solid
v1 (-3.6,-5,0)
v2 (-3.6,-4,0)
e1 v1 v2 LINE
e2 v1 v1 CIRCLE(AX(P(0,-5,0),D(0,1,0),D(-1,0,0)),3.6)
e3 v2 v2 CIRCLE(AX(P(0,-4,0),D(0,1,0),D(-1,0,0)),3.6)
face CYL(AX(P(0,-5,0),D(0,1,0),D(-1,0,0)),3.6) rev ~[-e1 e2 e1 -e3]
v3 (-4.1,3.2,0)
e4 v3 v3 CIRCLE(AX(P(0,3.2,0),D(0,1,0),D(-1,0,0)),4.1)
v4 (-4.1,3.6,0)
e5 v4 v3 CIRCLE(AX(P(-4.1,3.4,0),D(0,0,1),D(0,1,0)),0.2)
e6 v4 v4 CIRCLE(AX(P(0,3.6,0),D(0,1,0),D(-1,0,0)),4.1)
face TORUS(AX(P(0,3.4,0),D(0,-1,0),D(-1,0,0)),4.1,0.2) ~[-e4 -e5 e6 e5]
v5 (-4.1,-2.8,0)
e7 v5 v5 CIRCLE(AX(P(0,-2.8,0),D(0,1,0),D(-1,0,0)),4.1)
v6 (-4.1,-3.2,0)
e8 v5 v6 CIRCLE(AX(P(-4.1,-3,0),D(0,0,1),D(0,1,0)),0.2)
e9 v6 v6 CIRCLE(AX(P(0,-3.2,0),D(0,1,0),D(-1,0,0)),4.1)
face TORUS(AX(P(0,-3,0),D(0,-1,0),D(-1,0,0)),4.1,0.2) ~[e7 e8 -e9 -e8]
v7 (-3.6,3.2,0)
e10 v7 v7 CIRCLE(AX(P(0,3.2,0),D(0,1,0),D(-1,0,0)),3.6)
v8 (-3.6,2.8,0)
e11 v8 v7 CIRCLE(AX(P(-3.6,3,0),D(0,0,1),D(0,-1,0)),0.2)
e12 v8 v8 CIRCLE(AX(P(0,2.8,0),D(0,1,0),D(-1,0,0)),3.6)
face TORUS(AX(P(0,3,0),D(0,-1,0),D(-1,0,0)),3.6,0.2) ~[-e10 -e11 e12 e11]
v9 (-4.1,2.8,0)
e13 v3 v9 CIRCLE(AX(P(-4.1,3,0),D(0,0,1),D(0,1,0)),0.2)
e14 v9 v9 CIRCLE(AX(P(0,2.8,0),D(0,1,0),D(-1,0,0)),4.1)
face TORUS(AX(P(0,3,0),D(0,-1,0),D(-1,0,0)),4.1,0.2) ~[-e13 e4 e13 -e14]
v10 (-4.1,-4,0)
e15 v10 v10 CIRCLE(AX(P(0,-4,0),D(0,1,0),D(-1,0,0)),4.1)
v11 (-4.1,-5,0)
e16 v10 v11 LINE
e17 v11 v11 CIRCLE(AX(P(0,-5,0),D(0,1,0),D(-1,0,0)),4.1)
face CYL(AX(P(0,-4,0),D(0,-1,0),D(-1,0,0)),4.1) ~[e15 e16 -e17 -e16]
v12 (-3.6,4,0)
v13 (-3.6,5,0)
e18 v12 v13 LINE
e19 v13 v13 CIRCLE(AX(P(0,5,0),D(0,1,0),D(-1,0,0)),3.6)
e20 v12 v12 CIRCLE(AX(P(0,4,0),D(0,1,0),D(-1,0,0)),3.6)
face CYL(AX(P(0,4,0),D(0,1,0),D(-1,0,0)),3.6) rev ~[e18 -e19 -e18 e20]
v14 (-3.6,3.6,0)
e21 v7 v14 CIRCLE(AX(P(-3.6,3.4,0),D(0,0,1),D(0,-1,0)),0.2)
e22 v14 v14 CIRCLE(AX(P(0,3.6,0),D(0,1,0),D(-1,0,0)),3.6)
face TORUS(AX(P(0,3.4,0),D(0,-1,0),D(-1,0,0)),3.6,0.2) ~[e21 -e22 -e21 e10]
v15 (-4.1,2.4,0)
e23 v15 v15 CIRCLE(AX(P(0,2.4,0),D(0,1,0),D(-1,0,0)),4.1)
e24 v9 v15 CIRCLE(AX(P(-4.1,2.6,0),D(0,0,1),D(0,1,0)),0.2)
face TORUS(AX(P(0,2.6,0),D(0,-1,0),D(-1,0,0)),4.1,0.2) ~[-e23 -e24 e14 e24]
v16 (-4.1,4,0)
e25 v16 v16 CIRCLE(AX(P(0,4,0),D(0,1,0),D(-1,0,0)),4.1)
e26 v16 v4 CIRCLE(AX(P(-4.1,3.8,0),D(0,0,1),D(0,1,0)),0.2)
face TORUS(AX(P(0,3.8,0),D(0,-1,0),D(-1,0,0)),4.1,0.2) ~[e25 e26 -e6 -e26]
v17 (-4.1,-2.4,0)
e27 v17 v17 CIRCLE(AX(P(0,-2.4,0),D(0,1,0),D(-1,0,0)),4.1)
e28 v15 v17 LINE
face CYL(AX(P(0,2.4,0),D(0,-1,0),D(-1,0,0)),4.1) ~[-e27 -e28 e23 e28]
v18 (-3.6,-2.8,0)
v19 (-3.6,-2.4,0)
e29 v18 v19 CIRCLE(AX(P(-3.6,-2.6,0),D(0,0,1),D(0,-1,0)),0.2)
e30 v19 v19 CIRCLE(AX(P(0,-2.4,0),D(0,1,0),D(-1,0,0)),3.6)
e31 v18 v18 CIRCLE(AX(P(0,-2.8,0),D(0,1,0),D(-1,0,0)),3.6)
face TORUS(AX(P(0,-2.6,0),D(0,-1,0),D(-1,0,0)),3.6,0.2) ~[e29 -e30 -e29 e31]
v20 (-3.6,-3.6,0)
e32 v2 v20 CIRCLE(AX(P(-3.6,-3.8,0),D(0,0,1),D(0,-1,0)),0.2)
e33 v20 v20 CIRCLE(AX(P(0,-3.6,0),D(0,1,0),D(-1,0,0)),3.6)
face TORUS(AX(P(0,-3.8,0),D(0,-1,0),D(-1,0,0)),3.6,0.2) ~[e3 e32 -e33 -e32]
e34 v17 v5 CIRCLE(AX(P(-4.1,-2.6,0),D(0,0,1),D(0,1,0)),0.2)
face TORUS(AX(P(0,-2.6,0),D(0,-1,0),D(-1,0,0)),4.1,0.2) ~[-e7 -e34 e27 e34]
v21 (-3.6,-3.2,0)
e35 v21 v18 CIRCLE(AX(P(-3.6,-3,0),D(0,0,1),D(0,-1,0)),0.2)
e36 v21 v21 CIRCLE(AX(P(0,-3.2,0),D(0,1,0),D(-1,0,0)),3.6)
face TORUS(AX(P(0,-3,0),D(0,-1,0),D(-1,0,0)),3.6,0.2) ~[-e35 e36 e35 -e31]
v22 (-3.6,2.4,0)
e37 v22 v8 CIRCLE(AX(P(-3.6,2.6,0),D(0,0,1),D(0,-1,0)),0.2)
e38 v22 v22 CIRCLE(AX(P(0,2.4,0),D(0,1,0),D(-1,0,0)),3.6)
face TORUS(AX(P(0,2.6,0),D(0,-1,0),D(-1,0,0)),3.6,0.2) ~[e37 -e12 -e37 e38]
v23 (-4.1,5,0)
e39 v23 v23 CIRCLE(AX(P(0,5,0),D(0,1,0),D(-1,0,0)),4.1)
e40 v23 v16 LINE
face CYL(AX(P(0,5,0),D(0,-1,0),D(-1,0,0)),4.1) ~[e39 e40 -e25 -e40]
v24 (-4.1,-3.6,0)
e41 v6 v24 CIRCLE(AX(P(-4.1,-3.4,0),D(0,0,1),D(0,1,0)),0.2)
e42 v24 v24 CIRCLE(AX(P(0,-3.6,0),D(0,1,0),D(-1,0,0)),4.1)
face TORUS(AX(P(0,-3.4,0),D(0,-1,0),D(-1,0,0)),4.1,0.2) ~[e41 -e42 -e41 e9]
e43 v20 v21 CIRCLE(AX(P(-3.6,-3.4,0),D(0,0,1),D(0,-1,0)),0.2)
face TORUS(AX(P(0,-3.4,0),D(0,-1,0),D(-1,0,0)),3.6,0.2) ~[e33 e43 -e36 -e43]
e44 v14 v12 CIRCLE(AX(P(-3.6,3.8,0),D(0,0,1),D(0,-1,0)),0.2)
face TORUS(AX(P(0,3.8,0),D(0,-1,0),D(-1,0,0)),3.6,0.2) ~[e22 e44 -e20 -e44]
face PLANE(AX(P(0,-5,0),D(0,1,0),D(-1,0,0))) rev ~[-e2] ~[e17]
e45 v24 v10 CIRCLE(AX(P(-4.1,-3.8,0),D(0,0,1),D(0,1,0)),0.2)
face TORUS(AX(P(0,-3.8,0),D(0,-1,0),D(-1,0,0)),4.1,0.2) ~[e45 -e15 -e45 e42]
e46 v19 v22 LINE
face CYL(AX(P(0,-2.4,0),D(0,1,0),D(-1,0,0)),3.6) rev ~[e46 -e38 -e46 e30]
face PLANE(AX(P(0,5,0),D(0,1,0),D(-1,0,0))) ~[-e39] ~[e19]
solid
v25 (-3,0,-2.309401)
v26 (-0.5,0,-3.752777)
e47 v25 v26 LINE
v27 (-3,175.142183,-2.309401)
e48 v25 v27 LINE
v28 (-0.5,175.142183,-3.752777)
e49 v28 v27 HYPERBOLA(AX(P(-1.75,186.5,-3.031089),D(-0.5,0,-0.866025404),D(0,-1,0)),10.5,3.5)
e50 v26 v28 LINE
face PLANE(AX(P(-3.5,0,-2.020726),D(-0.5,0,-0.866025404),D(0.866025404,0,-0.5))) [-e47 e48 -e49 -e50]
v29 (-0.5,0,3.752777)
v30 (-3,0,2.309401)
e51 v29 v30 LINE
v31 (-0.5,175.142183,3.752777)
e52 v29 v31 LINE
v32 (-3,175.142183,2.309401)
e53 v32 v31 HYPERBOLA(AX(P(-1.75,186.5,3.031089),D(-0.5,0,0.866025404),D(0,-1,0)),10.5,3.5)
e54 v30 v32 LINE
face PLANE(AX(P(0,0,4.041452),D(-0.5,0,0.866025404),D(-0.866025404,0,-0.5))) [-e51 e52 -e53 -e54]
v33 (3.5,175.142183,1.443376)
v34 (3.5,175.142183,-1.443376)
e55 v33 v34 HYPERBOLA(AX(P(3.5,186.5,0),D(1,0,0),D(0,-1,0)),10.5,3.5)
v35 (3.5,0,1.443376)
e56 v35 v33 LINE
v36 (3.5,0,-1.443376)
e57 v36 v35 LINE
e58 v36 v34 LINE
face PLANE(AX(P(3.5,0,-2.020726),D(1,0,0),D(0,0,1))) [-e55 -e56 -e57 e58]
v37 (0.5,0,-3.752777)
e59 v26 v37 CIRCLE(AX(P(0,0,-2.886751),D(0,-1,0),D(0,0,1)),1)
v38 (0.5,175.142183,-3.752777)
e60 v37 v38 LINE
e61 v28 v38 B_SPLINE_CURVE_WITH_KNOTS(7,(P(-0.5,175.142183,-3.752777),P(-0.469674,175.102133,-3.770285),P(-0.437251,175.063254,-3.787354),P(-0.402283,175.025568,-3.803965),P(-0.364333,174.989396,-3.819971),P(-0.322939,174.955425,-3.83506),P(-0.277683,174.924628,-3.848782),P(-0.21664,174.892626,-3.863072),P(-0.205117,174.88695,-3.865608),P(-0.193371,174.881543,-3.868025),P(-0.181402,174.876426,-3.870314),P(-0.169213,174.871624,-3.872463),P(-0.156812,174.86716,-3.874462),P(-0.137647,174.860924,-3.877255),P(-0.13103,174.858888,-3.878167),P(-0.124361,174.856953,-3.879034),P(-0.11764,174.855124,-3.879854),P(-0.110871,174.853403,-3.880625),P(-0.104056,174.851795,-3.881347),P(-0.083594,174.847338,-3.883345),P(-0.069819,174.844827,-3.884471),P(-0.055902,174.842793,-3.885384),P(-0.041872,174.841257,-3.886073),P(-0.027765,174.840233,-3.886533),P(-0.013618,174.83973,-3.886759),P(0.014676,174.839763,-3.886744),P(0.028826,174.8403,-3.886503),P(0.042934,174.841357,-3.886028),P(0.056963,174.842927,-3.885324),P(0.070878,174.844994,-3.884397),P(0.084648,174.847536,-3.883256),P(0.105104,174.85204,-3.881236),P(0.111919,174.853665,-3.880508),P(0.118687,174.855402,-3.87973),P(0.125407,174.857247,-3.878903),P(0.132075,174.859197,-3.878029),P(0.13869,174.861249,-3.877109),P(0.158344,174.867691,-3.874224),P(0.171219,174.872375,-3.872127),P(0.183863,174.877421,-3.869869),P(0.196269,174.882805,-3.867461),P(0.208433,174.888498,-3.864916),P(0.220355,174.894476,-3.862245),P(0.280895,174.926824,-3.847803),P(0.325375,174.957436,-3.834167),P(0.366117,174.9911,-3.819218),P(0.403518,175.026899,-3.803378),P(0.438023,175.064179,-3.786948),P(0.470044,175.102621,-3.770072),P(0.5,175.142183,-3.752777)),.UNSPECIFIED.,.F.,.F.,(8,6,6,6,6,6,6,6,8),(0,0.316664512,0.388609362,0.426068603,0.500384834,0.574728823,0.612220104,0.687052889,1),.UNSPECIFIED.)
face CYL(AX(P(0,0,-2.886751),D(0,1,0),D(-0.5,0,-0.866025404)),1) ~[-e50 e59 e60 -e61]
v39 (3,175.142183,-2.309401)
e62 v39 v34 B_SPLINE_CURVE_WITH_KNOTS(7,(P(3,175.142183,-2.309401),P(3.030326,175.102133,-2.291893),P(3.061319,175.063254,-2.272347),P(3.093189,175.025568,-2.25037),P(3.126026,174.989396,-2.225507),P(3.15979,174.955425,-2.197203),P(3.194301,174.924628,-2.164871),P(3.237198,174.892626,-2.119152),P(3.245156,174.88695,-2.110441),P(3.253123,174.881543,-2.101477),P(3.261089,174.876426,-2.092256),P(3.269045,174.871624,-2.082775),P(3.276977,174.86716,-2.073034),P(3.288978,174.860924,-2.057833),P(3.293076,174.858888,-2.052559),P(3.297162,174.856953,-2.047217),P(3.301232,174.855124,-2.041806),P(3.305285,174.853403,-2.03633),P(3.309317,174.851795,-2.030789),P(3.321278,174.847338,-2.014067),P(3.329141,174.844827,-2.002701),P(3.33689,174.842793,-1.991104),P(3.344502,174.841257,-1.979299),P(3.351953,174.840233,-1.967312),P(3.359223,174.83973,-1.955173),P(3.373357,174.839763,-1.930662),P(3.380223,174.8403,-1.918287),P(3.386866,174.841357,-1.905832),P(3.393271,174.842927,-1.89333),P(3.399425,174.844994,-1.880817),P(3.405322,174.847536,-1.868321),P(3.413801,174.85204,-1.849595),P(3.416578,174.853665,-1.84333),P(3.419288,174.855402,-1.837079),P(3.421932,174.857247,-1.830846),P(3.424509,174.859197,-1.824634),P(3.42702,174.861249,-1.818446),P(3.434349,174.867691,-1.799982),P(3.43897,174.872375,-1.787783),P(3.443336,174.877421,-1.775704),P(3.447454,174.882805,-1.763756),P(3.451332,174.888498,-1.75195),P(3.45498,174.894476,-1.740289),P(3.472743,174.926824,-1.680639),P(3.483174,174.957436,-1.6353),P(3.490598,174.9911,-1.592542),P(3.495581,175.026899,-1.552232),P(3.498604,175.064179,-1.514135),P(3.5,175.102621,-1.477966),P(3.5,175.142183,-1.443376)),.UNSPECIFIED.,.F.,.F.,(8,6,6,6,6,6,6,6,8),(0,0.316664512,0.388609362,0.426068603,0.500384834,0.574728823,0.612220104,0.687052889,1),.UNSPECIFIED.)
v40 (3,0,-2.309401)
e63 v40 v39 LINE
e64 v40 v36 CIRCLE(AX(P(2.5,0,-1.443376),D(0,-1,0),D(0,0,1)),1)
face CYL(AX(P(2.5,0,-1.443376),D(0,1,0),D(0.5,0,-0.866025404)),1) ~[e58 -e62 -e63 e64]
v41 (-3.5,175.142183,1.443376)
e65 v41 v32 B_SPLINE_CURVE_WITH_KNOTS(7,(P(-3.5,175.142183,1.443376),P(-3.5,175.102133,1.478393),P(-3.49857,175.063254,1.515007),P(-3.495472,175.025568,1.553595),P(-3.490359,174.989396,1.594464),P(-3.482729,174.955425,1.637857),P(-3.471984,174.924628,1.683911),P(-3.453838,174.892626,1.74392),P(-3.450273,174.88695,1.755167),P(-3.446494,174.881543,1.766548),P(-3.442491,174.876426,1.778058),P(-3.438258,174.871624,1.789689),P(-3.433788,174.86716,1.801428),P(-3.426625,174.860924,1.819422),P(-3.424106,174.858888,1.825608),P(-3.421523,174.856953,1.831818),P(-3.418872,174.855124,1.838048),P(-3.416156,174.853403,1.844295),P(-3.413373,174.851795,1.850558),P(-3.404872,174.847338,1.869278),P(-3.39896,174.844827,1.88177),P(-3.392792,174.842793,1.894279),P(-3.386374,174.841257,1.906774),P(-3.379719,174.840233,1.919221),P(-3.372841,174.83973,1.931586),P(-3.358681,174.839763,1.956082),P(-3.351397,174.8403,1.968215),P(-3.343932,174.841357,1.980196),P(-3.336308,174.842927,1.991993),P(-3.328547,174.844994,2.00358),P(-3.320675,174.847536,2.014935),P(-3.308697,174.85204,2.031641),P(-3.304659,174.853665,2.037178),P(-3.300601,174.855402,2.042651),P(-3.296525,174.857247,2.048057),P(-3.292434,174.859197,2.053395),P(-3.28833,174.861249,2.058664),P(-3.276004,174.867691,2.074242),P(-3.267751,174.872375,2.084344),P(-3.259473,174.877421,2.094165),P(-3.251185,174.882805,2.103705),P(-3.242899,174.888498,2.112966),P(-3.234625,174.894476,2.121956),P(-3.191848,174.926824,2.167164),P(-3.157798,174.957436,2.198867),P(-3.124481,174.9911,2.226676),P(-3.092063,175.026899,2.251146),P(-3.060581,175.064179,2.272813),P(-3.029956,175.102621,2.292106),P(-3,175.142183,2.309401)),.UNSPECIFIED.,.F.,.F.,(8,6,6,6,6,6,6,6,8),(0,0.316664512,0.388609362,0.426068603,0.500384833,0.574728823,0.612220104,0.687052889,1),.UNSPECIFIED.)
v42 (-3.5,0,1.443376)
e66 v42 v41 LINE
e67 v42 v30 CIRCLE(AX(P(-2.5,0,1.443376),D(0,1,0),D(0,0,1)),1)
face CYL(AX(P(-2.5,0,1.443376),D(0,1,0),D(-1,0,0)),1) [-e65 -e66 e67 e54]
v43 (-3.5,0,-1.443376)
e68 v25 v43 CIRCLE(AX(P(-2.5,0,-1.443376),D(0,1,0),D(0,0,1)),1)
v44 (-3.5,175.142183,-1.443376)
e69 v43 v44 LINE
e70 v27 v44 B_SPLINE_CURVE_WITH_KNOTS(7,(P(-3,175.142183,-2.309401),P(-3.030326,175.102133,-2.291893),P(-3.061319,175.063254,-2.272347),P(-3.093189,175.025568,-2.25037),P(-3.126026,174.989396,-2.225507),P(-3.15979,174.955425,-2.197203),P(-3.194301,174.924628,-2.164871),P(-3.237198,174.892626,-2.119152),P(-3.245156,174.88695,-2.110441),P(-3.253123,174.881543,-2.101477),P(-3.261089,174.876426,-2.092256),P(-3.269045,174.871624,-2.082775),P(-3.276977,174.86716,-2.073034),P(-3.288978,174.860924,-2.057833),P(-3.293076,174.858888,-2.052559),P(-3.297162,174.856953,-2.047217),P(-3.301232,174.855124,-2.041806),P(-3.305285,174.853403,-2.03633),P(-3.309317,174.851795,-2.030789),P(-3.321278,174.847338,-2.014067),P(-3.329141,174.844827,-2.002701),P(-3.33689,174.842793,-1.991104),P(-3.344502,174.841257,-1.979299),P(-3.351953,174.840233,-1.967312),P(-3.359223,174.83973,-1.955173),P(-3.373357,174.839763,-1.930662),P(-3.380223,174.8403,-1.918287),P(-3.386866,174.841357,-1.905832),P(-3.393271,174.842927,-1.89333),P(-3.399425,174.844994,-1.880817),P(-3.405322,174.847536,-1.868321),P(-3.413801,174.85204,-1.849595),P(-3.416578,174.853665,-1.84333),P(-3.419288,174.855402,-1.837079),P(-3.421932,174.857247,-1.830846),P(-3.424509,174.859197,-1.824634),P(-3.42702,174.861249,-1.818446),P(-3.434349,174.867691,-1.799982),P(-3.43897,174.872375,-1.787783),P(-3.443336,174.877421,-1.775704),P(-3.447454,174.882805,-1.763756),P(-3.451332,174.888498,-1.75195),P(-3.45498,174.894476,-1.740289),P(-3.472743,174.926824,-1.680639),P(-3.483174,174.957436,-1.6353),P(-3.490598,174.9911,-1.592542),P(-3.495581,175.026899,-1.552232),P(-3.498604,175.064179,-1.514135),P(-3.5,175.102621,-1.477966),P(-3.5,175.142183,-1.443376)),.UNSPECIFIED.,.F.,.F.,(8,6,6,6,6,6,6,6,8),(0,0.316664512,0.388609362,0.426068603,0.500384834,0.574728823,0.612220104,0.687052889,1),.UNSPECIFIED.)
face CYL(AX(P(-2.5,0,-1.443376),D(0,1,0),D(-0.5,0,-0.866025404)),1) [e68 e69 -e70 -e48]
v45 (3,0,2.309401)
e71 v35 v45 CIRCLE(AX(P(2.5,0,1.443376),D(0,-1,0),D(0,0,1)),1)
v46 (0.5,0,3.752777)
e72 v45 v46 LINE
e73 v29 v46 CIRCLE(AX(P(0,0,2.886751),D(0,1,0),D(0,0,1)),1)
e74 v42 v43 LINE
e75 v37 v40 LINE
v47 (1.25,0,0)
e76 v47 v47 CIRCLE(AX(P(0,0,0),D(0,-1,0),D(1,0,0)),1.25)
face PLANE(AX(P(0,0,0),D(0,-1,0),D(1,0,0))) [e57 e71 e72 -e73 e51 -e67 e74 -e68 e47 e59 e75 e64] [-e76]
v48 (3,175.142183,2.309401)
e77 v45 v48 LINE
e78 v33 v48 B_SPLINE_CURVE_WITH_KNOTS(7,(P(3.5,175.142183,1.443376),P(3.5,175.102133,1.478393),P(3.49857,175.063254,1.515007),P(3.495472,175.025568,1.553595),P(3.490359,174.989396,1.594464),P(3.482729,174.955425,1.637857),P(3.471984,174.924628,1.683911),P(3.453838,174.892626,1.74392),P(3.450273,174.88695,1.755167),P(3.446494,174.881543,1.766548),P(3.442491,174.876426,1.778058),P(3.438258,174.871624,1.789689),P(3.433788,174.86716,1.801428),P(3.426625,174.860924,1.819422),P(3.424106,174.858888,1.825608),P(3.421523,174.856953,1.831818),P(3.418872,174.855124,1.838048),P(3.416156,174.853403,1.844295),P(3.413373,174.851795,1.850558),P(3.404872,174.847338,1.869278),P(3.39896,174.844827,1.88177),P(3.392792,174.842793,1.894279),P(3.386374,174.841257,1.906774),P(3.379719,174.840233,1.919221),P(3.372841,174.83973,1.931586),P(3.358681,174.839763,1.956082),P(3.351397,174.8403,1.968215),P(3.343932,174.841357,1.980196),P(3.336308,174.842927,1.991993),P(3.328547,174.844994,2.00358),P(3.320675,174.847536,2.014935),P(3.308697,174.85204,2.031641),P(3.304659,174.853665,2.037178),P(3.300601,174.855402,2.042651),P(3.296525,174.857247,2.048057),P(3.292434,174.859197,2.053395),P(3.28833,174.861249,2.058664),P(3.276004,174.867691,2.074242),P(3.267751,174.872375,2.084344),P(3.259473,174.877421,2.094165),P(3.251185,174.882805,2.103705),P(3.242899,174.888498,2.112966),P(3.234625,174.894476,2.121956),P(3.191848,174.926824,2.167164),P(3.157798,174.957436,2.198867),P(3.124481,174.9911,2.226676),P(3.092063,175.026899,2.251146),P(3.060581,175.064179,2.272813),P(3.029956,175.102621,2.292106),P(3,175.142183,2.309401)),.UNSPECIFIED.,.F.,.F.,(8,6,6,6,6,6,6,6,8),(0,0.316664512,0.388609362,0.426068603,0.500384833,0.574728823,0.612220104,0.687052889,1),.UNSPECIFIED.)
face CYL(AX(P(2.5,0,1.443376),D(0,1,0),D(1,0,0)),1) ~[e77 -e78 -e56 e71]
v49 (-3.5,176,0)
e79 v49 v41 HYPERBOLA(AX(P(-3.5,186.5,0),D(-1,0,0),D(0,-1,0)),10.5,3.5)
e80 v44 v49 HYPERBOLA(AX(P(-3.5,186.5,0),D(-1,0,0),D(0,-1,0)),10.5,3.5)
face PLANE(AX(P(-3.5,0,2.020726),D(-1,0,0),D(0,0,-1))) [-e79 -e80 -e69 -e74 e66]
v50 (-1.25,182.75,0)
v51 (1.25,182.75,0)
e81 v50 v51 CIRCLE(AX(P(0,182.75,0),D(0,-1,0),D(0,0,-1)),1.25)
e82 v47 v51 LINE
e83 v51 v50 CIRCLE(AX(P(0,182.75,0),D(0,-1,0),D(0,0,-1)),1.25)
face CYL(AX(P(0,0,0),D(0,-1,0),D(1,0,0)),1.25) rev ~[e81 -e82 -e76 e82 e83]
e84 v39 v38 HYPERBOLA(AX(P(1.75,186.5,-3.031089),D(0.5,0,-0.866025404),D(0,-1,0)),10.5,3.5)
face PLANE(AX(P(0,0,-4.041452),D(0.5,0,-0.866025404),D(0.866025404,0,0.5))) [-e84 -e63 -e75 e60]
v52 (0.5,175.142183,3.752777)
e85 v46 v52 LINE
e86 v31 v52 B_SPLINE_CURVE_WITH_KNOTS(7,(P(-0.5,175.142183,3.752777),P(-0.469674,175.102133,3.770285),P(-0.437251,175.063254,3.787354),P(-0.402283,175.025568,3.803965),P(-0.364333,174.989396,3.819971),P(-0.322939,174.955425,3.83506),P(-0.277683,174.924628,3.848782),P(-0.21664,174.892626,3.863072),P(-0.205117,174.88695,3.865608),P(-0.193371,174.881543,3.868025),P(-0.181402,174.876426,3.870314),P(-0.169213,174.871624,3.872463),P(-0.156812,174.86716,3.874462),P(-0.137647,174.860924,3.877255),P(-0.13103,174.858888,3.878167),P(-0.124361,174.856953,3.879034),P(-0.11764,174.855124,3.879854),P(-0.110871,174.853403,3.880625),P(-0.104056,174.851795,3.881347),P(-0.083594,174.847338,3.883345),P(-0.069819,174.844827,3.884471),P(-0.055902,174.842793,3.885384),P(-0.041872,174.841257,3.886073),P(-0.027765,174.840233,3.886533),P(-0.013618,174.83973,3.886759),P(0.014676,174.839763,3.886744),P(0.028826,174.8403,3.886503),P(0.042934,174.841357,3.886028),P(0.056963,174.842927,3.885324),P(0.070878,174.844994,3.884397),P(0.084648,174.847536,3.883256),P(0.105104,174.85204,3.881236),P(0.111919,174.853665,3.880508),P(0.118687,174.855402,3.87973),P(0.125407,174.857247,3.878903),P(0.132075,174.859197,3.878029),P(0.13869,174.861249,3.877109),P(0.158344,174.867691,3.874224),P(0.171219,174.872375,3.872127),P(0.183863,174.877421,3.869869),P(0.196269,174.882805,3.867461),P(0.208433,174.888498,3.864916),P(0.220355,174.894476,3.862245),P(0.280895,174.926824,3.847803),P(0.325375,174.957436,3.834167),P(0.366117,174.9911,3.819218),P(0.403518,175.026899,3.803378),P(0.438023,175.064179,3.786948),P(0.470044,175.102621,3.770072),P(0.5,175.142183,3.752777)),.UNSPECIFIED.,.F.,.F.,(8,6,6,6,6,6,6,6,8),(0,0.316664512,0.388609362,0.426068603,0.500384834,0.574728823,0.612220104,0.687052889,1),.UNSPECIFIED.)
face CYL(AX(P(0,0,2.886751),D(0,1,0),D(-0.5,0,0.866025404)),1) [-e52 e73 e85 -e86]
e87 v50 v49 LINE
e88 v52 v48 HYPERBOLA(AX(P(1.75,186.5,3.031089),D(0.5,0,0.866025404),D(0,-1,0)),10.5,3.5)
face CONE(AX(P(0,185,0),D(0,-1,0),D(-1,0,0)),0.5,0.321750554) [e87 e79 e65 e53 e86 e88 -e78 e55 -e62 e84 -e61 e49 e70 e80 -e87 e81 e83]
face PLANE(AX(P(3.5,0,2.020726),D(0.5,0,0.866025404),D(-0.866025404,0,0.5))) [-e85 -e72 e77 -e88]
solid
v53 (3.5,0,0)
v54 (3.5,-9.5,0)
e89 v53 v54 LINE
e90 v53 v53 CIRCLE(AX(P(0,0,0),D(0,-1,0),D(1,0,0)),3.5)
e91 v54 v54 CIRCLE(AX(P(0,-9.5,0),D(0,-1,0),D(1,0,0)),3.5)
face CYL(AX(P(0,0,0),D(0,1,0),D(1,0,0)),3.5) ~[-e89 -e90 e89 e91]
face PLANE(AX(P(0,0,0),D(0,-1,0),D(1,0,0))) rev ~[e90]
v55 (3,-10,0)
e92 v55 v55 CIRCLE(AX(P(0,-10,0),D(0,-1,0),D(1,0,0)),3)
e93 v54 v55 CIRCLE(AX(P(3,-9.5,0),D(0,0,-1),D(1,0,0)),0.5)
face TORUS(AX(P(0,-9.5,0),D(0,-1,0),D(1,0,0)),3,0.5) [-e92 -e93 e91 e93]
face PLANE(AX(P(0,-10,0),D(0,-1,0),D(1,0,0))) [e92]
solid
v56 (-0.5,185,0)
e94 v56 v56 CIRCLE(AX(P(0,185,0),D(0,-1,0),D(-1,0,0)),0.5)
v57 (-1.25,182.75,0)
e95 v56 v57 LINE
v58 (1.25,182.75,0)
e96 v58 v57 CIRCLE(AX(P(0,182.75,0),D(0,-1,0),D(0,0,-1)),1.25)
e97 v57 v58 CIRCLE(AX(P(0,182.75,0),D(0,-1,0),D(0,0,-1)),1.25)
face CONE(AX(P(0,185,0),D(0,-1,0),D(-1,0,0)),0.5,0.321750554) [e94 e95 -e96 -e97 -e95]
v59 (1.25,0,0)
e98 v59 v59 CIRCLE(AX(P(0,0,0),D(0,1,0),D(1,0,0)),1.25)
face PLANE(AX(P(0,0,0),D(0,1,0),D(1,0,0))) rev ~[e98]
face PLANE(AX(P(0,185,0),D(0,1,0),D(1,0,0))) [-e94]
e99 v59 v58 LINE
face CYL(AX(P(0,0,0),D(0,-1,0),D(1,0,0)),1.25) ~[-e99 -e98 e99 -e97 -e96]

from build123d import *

# Parameters (mm, degrees)
SKETCH1_R           = 1.25
LEAD_DEPTH          = 185
SKETCH2_R           = 1.25
CASE_2_DEPTH        = 185
SKETCH4_R           = 3.5
BOSS_EXTRUDE5_DEPTH = 10
FILLET4_R           = 0.5
FILLET5_R           = 1


with BuildPart() as part:
    # Sketch1 → Lead (new body)
    with BuildSketch(Plane(origin=(0, 0, 0), x_dir=(1, 0, 0), z_dir=(0, 1, 0))):
        Circle(SKETCH1_R)
    extrude(amount=LEAD_DEPTH)


with BuildPart() as body_2:
    # Sketch2 → Case 2 (new body)
    with BuildSketch(Plane.XZ):
        Polygon((-3.5, -2.020725942), (0, -4.041451884), (3.5, -2.020725942), (3.5, 2.020725942), (0, 4.041451884), (-3.5, 2.020725942), align=None)
        Circle(SKETCH2_R, mode=Mode.SUBTRACT)
    extrude(amount=-CASE_2_DEPTH)

    # Fillet5
    fillet5_edges = [body_2.edges().sort_by_distance(p)[0] for p in [
        (0, 92.5, 4.041451884),
        (3.5, 92.5, 2.020725942),
        (3.5, 92.5, -2.020725942),
        (0, 92.5, -4.041451884),
        (-3.5, 92.5, -2.020725942),
        (-3.5, 92.5, 2.020725942),
    ]]
    fillet(fillet5_edges, radius=FILLET5_R)


with BuildPart() as body_3:
    # Sketch4 → Boss-Extrude5 (new body)
    with BuildSketch(Plane.XZ):
        Circle(SKETCH4_R)
    extrude(amount=BOSS_EXTRUDE5_DEPTH)

    # Fillet4
    fillet4_edges = [body_3.edges().sort_by_distance(p)[0] for p in [
        (-3.5, -10, 0),
    ]]
    fillet(fillet4_edges, radius=FILLET4_R)


with BuildPart() as body_4:
    # Sketch6 → Revolve1 (revolve)
    with BuildSketch(Plane.XY):
        with BuildLine():
            Line((-3.6, 5), (-4.1, 5))
            Line((-4.1, 5), (-4.1, 4))
            ThreePointArc((-4.1, 4), (-4.3, 3.8), (-4.1, 3.6))
            ThreePointArc((-4.1, 3.6), (-4.3, 3.4), (-4.1, 3.2))
            ThreePointArc((-4.1, 3.2), (-4.3, 3), (-4.1, 2.8))
            ThreePointArc((-4.1, 2.8), (-4.3, 2.6), (-4.1, 2.4))
            Line((-4.1, 2.4), (-4.1, -2.4))
            ThreePointArc((-4.1, -2.4), (-4.3, -2.6), (-4.1, -2.8))
            ThreePointArc((-4.1, -2.8), (-4.3, -3), (-4.1, -3.2))
            ThreePointArc((-4.1, -3.2), (-4.3, -3.4), (-4.1, -3.6))
            ThreePointArc((-4.1, -3.6), (-4.3, -3.8), (-4.1, -4))
            Line((-4.1, -4), (-4.1, -5))
            Line((-4.1, -5), (-3.6, -5))
            Line((-3.6, -5), (-3.6, -4))
            ThreePointArc((-3.6, -4), (-3.4, -3.8), (-3.6, -3.6))
            ThreePointArc((-3.6, -3.6), (-3.4, -3.4), (-3.6, -3.2))
            ThreePointArc((-3.6, -3.2), (-3.4, -3), (-3.6, -2.8))
            ThreePointArc((-3.6, -2.8), (-3.4, -2.6), (-3.6, -2.4))
            Line((-3.6, -2.4), (-3.6, 2.4))
            ThreePointArc((-3.6, 2.4), (-3.4, 2.6), (-3.6, 2.8))
            ThreePointArc((-3.6, 2.8), (-3.4, 3), (-3.6, 3.2))
            ThreePointArc((-3.6, 3.2), (-3.4, 3.4), (-3.6, 3.6))
            ThreePointArc((-3.6, 3.6), (-3.4, 3.8), (-3.6, 4))
            Line((-3.6, 4), (-3.6, 5))
        make_face()
    revolve(axis=Axis((0, -10, 0), (0, 1, 0)))


with BuildPart() as cut_revolve1_tool:
    # Sketch9 → Cut-Revolve1 (revolve)
    with BuildSketch(Plane.XY):
        Polygon((-0.5, 185), (-5.5, 170), (-5.5, 185), align=None)
    revolve(axis=Axis((0, 185, 0), (0, -1, 0)))


with BuildPart() as part_1:
    add(part.part)

    # Cut-Revolve1: cut by cut_revolve1_tool
    add(cut_revolve1_tool.part, mode=Mode.SUBTRACT)


with BuildPart() as body_2_1:
    add(body_2.part)

    # Cut-Revolve1: cut by cut_revolve1_tool
    add(cut_revolve1_tool.part, mode=Mode.SUBTRACT)


solid = Compound([body_3.part, body_4.part, part_1.part, body_2_1.part])
